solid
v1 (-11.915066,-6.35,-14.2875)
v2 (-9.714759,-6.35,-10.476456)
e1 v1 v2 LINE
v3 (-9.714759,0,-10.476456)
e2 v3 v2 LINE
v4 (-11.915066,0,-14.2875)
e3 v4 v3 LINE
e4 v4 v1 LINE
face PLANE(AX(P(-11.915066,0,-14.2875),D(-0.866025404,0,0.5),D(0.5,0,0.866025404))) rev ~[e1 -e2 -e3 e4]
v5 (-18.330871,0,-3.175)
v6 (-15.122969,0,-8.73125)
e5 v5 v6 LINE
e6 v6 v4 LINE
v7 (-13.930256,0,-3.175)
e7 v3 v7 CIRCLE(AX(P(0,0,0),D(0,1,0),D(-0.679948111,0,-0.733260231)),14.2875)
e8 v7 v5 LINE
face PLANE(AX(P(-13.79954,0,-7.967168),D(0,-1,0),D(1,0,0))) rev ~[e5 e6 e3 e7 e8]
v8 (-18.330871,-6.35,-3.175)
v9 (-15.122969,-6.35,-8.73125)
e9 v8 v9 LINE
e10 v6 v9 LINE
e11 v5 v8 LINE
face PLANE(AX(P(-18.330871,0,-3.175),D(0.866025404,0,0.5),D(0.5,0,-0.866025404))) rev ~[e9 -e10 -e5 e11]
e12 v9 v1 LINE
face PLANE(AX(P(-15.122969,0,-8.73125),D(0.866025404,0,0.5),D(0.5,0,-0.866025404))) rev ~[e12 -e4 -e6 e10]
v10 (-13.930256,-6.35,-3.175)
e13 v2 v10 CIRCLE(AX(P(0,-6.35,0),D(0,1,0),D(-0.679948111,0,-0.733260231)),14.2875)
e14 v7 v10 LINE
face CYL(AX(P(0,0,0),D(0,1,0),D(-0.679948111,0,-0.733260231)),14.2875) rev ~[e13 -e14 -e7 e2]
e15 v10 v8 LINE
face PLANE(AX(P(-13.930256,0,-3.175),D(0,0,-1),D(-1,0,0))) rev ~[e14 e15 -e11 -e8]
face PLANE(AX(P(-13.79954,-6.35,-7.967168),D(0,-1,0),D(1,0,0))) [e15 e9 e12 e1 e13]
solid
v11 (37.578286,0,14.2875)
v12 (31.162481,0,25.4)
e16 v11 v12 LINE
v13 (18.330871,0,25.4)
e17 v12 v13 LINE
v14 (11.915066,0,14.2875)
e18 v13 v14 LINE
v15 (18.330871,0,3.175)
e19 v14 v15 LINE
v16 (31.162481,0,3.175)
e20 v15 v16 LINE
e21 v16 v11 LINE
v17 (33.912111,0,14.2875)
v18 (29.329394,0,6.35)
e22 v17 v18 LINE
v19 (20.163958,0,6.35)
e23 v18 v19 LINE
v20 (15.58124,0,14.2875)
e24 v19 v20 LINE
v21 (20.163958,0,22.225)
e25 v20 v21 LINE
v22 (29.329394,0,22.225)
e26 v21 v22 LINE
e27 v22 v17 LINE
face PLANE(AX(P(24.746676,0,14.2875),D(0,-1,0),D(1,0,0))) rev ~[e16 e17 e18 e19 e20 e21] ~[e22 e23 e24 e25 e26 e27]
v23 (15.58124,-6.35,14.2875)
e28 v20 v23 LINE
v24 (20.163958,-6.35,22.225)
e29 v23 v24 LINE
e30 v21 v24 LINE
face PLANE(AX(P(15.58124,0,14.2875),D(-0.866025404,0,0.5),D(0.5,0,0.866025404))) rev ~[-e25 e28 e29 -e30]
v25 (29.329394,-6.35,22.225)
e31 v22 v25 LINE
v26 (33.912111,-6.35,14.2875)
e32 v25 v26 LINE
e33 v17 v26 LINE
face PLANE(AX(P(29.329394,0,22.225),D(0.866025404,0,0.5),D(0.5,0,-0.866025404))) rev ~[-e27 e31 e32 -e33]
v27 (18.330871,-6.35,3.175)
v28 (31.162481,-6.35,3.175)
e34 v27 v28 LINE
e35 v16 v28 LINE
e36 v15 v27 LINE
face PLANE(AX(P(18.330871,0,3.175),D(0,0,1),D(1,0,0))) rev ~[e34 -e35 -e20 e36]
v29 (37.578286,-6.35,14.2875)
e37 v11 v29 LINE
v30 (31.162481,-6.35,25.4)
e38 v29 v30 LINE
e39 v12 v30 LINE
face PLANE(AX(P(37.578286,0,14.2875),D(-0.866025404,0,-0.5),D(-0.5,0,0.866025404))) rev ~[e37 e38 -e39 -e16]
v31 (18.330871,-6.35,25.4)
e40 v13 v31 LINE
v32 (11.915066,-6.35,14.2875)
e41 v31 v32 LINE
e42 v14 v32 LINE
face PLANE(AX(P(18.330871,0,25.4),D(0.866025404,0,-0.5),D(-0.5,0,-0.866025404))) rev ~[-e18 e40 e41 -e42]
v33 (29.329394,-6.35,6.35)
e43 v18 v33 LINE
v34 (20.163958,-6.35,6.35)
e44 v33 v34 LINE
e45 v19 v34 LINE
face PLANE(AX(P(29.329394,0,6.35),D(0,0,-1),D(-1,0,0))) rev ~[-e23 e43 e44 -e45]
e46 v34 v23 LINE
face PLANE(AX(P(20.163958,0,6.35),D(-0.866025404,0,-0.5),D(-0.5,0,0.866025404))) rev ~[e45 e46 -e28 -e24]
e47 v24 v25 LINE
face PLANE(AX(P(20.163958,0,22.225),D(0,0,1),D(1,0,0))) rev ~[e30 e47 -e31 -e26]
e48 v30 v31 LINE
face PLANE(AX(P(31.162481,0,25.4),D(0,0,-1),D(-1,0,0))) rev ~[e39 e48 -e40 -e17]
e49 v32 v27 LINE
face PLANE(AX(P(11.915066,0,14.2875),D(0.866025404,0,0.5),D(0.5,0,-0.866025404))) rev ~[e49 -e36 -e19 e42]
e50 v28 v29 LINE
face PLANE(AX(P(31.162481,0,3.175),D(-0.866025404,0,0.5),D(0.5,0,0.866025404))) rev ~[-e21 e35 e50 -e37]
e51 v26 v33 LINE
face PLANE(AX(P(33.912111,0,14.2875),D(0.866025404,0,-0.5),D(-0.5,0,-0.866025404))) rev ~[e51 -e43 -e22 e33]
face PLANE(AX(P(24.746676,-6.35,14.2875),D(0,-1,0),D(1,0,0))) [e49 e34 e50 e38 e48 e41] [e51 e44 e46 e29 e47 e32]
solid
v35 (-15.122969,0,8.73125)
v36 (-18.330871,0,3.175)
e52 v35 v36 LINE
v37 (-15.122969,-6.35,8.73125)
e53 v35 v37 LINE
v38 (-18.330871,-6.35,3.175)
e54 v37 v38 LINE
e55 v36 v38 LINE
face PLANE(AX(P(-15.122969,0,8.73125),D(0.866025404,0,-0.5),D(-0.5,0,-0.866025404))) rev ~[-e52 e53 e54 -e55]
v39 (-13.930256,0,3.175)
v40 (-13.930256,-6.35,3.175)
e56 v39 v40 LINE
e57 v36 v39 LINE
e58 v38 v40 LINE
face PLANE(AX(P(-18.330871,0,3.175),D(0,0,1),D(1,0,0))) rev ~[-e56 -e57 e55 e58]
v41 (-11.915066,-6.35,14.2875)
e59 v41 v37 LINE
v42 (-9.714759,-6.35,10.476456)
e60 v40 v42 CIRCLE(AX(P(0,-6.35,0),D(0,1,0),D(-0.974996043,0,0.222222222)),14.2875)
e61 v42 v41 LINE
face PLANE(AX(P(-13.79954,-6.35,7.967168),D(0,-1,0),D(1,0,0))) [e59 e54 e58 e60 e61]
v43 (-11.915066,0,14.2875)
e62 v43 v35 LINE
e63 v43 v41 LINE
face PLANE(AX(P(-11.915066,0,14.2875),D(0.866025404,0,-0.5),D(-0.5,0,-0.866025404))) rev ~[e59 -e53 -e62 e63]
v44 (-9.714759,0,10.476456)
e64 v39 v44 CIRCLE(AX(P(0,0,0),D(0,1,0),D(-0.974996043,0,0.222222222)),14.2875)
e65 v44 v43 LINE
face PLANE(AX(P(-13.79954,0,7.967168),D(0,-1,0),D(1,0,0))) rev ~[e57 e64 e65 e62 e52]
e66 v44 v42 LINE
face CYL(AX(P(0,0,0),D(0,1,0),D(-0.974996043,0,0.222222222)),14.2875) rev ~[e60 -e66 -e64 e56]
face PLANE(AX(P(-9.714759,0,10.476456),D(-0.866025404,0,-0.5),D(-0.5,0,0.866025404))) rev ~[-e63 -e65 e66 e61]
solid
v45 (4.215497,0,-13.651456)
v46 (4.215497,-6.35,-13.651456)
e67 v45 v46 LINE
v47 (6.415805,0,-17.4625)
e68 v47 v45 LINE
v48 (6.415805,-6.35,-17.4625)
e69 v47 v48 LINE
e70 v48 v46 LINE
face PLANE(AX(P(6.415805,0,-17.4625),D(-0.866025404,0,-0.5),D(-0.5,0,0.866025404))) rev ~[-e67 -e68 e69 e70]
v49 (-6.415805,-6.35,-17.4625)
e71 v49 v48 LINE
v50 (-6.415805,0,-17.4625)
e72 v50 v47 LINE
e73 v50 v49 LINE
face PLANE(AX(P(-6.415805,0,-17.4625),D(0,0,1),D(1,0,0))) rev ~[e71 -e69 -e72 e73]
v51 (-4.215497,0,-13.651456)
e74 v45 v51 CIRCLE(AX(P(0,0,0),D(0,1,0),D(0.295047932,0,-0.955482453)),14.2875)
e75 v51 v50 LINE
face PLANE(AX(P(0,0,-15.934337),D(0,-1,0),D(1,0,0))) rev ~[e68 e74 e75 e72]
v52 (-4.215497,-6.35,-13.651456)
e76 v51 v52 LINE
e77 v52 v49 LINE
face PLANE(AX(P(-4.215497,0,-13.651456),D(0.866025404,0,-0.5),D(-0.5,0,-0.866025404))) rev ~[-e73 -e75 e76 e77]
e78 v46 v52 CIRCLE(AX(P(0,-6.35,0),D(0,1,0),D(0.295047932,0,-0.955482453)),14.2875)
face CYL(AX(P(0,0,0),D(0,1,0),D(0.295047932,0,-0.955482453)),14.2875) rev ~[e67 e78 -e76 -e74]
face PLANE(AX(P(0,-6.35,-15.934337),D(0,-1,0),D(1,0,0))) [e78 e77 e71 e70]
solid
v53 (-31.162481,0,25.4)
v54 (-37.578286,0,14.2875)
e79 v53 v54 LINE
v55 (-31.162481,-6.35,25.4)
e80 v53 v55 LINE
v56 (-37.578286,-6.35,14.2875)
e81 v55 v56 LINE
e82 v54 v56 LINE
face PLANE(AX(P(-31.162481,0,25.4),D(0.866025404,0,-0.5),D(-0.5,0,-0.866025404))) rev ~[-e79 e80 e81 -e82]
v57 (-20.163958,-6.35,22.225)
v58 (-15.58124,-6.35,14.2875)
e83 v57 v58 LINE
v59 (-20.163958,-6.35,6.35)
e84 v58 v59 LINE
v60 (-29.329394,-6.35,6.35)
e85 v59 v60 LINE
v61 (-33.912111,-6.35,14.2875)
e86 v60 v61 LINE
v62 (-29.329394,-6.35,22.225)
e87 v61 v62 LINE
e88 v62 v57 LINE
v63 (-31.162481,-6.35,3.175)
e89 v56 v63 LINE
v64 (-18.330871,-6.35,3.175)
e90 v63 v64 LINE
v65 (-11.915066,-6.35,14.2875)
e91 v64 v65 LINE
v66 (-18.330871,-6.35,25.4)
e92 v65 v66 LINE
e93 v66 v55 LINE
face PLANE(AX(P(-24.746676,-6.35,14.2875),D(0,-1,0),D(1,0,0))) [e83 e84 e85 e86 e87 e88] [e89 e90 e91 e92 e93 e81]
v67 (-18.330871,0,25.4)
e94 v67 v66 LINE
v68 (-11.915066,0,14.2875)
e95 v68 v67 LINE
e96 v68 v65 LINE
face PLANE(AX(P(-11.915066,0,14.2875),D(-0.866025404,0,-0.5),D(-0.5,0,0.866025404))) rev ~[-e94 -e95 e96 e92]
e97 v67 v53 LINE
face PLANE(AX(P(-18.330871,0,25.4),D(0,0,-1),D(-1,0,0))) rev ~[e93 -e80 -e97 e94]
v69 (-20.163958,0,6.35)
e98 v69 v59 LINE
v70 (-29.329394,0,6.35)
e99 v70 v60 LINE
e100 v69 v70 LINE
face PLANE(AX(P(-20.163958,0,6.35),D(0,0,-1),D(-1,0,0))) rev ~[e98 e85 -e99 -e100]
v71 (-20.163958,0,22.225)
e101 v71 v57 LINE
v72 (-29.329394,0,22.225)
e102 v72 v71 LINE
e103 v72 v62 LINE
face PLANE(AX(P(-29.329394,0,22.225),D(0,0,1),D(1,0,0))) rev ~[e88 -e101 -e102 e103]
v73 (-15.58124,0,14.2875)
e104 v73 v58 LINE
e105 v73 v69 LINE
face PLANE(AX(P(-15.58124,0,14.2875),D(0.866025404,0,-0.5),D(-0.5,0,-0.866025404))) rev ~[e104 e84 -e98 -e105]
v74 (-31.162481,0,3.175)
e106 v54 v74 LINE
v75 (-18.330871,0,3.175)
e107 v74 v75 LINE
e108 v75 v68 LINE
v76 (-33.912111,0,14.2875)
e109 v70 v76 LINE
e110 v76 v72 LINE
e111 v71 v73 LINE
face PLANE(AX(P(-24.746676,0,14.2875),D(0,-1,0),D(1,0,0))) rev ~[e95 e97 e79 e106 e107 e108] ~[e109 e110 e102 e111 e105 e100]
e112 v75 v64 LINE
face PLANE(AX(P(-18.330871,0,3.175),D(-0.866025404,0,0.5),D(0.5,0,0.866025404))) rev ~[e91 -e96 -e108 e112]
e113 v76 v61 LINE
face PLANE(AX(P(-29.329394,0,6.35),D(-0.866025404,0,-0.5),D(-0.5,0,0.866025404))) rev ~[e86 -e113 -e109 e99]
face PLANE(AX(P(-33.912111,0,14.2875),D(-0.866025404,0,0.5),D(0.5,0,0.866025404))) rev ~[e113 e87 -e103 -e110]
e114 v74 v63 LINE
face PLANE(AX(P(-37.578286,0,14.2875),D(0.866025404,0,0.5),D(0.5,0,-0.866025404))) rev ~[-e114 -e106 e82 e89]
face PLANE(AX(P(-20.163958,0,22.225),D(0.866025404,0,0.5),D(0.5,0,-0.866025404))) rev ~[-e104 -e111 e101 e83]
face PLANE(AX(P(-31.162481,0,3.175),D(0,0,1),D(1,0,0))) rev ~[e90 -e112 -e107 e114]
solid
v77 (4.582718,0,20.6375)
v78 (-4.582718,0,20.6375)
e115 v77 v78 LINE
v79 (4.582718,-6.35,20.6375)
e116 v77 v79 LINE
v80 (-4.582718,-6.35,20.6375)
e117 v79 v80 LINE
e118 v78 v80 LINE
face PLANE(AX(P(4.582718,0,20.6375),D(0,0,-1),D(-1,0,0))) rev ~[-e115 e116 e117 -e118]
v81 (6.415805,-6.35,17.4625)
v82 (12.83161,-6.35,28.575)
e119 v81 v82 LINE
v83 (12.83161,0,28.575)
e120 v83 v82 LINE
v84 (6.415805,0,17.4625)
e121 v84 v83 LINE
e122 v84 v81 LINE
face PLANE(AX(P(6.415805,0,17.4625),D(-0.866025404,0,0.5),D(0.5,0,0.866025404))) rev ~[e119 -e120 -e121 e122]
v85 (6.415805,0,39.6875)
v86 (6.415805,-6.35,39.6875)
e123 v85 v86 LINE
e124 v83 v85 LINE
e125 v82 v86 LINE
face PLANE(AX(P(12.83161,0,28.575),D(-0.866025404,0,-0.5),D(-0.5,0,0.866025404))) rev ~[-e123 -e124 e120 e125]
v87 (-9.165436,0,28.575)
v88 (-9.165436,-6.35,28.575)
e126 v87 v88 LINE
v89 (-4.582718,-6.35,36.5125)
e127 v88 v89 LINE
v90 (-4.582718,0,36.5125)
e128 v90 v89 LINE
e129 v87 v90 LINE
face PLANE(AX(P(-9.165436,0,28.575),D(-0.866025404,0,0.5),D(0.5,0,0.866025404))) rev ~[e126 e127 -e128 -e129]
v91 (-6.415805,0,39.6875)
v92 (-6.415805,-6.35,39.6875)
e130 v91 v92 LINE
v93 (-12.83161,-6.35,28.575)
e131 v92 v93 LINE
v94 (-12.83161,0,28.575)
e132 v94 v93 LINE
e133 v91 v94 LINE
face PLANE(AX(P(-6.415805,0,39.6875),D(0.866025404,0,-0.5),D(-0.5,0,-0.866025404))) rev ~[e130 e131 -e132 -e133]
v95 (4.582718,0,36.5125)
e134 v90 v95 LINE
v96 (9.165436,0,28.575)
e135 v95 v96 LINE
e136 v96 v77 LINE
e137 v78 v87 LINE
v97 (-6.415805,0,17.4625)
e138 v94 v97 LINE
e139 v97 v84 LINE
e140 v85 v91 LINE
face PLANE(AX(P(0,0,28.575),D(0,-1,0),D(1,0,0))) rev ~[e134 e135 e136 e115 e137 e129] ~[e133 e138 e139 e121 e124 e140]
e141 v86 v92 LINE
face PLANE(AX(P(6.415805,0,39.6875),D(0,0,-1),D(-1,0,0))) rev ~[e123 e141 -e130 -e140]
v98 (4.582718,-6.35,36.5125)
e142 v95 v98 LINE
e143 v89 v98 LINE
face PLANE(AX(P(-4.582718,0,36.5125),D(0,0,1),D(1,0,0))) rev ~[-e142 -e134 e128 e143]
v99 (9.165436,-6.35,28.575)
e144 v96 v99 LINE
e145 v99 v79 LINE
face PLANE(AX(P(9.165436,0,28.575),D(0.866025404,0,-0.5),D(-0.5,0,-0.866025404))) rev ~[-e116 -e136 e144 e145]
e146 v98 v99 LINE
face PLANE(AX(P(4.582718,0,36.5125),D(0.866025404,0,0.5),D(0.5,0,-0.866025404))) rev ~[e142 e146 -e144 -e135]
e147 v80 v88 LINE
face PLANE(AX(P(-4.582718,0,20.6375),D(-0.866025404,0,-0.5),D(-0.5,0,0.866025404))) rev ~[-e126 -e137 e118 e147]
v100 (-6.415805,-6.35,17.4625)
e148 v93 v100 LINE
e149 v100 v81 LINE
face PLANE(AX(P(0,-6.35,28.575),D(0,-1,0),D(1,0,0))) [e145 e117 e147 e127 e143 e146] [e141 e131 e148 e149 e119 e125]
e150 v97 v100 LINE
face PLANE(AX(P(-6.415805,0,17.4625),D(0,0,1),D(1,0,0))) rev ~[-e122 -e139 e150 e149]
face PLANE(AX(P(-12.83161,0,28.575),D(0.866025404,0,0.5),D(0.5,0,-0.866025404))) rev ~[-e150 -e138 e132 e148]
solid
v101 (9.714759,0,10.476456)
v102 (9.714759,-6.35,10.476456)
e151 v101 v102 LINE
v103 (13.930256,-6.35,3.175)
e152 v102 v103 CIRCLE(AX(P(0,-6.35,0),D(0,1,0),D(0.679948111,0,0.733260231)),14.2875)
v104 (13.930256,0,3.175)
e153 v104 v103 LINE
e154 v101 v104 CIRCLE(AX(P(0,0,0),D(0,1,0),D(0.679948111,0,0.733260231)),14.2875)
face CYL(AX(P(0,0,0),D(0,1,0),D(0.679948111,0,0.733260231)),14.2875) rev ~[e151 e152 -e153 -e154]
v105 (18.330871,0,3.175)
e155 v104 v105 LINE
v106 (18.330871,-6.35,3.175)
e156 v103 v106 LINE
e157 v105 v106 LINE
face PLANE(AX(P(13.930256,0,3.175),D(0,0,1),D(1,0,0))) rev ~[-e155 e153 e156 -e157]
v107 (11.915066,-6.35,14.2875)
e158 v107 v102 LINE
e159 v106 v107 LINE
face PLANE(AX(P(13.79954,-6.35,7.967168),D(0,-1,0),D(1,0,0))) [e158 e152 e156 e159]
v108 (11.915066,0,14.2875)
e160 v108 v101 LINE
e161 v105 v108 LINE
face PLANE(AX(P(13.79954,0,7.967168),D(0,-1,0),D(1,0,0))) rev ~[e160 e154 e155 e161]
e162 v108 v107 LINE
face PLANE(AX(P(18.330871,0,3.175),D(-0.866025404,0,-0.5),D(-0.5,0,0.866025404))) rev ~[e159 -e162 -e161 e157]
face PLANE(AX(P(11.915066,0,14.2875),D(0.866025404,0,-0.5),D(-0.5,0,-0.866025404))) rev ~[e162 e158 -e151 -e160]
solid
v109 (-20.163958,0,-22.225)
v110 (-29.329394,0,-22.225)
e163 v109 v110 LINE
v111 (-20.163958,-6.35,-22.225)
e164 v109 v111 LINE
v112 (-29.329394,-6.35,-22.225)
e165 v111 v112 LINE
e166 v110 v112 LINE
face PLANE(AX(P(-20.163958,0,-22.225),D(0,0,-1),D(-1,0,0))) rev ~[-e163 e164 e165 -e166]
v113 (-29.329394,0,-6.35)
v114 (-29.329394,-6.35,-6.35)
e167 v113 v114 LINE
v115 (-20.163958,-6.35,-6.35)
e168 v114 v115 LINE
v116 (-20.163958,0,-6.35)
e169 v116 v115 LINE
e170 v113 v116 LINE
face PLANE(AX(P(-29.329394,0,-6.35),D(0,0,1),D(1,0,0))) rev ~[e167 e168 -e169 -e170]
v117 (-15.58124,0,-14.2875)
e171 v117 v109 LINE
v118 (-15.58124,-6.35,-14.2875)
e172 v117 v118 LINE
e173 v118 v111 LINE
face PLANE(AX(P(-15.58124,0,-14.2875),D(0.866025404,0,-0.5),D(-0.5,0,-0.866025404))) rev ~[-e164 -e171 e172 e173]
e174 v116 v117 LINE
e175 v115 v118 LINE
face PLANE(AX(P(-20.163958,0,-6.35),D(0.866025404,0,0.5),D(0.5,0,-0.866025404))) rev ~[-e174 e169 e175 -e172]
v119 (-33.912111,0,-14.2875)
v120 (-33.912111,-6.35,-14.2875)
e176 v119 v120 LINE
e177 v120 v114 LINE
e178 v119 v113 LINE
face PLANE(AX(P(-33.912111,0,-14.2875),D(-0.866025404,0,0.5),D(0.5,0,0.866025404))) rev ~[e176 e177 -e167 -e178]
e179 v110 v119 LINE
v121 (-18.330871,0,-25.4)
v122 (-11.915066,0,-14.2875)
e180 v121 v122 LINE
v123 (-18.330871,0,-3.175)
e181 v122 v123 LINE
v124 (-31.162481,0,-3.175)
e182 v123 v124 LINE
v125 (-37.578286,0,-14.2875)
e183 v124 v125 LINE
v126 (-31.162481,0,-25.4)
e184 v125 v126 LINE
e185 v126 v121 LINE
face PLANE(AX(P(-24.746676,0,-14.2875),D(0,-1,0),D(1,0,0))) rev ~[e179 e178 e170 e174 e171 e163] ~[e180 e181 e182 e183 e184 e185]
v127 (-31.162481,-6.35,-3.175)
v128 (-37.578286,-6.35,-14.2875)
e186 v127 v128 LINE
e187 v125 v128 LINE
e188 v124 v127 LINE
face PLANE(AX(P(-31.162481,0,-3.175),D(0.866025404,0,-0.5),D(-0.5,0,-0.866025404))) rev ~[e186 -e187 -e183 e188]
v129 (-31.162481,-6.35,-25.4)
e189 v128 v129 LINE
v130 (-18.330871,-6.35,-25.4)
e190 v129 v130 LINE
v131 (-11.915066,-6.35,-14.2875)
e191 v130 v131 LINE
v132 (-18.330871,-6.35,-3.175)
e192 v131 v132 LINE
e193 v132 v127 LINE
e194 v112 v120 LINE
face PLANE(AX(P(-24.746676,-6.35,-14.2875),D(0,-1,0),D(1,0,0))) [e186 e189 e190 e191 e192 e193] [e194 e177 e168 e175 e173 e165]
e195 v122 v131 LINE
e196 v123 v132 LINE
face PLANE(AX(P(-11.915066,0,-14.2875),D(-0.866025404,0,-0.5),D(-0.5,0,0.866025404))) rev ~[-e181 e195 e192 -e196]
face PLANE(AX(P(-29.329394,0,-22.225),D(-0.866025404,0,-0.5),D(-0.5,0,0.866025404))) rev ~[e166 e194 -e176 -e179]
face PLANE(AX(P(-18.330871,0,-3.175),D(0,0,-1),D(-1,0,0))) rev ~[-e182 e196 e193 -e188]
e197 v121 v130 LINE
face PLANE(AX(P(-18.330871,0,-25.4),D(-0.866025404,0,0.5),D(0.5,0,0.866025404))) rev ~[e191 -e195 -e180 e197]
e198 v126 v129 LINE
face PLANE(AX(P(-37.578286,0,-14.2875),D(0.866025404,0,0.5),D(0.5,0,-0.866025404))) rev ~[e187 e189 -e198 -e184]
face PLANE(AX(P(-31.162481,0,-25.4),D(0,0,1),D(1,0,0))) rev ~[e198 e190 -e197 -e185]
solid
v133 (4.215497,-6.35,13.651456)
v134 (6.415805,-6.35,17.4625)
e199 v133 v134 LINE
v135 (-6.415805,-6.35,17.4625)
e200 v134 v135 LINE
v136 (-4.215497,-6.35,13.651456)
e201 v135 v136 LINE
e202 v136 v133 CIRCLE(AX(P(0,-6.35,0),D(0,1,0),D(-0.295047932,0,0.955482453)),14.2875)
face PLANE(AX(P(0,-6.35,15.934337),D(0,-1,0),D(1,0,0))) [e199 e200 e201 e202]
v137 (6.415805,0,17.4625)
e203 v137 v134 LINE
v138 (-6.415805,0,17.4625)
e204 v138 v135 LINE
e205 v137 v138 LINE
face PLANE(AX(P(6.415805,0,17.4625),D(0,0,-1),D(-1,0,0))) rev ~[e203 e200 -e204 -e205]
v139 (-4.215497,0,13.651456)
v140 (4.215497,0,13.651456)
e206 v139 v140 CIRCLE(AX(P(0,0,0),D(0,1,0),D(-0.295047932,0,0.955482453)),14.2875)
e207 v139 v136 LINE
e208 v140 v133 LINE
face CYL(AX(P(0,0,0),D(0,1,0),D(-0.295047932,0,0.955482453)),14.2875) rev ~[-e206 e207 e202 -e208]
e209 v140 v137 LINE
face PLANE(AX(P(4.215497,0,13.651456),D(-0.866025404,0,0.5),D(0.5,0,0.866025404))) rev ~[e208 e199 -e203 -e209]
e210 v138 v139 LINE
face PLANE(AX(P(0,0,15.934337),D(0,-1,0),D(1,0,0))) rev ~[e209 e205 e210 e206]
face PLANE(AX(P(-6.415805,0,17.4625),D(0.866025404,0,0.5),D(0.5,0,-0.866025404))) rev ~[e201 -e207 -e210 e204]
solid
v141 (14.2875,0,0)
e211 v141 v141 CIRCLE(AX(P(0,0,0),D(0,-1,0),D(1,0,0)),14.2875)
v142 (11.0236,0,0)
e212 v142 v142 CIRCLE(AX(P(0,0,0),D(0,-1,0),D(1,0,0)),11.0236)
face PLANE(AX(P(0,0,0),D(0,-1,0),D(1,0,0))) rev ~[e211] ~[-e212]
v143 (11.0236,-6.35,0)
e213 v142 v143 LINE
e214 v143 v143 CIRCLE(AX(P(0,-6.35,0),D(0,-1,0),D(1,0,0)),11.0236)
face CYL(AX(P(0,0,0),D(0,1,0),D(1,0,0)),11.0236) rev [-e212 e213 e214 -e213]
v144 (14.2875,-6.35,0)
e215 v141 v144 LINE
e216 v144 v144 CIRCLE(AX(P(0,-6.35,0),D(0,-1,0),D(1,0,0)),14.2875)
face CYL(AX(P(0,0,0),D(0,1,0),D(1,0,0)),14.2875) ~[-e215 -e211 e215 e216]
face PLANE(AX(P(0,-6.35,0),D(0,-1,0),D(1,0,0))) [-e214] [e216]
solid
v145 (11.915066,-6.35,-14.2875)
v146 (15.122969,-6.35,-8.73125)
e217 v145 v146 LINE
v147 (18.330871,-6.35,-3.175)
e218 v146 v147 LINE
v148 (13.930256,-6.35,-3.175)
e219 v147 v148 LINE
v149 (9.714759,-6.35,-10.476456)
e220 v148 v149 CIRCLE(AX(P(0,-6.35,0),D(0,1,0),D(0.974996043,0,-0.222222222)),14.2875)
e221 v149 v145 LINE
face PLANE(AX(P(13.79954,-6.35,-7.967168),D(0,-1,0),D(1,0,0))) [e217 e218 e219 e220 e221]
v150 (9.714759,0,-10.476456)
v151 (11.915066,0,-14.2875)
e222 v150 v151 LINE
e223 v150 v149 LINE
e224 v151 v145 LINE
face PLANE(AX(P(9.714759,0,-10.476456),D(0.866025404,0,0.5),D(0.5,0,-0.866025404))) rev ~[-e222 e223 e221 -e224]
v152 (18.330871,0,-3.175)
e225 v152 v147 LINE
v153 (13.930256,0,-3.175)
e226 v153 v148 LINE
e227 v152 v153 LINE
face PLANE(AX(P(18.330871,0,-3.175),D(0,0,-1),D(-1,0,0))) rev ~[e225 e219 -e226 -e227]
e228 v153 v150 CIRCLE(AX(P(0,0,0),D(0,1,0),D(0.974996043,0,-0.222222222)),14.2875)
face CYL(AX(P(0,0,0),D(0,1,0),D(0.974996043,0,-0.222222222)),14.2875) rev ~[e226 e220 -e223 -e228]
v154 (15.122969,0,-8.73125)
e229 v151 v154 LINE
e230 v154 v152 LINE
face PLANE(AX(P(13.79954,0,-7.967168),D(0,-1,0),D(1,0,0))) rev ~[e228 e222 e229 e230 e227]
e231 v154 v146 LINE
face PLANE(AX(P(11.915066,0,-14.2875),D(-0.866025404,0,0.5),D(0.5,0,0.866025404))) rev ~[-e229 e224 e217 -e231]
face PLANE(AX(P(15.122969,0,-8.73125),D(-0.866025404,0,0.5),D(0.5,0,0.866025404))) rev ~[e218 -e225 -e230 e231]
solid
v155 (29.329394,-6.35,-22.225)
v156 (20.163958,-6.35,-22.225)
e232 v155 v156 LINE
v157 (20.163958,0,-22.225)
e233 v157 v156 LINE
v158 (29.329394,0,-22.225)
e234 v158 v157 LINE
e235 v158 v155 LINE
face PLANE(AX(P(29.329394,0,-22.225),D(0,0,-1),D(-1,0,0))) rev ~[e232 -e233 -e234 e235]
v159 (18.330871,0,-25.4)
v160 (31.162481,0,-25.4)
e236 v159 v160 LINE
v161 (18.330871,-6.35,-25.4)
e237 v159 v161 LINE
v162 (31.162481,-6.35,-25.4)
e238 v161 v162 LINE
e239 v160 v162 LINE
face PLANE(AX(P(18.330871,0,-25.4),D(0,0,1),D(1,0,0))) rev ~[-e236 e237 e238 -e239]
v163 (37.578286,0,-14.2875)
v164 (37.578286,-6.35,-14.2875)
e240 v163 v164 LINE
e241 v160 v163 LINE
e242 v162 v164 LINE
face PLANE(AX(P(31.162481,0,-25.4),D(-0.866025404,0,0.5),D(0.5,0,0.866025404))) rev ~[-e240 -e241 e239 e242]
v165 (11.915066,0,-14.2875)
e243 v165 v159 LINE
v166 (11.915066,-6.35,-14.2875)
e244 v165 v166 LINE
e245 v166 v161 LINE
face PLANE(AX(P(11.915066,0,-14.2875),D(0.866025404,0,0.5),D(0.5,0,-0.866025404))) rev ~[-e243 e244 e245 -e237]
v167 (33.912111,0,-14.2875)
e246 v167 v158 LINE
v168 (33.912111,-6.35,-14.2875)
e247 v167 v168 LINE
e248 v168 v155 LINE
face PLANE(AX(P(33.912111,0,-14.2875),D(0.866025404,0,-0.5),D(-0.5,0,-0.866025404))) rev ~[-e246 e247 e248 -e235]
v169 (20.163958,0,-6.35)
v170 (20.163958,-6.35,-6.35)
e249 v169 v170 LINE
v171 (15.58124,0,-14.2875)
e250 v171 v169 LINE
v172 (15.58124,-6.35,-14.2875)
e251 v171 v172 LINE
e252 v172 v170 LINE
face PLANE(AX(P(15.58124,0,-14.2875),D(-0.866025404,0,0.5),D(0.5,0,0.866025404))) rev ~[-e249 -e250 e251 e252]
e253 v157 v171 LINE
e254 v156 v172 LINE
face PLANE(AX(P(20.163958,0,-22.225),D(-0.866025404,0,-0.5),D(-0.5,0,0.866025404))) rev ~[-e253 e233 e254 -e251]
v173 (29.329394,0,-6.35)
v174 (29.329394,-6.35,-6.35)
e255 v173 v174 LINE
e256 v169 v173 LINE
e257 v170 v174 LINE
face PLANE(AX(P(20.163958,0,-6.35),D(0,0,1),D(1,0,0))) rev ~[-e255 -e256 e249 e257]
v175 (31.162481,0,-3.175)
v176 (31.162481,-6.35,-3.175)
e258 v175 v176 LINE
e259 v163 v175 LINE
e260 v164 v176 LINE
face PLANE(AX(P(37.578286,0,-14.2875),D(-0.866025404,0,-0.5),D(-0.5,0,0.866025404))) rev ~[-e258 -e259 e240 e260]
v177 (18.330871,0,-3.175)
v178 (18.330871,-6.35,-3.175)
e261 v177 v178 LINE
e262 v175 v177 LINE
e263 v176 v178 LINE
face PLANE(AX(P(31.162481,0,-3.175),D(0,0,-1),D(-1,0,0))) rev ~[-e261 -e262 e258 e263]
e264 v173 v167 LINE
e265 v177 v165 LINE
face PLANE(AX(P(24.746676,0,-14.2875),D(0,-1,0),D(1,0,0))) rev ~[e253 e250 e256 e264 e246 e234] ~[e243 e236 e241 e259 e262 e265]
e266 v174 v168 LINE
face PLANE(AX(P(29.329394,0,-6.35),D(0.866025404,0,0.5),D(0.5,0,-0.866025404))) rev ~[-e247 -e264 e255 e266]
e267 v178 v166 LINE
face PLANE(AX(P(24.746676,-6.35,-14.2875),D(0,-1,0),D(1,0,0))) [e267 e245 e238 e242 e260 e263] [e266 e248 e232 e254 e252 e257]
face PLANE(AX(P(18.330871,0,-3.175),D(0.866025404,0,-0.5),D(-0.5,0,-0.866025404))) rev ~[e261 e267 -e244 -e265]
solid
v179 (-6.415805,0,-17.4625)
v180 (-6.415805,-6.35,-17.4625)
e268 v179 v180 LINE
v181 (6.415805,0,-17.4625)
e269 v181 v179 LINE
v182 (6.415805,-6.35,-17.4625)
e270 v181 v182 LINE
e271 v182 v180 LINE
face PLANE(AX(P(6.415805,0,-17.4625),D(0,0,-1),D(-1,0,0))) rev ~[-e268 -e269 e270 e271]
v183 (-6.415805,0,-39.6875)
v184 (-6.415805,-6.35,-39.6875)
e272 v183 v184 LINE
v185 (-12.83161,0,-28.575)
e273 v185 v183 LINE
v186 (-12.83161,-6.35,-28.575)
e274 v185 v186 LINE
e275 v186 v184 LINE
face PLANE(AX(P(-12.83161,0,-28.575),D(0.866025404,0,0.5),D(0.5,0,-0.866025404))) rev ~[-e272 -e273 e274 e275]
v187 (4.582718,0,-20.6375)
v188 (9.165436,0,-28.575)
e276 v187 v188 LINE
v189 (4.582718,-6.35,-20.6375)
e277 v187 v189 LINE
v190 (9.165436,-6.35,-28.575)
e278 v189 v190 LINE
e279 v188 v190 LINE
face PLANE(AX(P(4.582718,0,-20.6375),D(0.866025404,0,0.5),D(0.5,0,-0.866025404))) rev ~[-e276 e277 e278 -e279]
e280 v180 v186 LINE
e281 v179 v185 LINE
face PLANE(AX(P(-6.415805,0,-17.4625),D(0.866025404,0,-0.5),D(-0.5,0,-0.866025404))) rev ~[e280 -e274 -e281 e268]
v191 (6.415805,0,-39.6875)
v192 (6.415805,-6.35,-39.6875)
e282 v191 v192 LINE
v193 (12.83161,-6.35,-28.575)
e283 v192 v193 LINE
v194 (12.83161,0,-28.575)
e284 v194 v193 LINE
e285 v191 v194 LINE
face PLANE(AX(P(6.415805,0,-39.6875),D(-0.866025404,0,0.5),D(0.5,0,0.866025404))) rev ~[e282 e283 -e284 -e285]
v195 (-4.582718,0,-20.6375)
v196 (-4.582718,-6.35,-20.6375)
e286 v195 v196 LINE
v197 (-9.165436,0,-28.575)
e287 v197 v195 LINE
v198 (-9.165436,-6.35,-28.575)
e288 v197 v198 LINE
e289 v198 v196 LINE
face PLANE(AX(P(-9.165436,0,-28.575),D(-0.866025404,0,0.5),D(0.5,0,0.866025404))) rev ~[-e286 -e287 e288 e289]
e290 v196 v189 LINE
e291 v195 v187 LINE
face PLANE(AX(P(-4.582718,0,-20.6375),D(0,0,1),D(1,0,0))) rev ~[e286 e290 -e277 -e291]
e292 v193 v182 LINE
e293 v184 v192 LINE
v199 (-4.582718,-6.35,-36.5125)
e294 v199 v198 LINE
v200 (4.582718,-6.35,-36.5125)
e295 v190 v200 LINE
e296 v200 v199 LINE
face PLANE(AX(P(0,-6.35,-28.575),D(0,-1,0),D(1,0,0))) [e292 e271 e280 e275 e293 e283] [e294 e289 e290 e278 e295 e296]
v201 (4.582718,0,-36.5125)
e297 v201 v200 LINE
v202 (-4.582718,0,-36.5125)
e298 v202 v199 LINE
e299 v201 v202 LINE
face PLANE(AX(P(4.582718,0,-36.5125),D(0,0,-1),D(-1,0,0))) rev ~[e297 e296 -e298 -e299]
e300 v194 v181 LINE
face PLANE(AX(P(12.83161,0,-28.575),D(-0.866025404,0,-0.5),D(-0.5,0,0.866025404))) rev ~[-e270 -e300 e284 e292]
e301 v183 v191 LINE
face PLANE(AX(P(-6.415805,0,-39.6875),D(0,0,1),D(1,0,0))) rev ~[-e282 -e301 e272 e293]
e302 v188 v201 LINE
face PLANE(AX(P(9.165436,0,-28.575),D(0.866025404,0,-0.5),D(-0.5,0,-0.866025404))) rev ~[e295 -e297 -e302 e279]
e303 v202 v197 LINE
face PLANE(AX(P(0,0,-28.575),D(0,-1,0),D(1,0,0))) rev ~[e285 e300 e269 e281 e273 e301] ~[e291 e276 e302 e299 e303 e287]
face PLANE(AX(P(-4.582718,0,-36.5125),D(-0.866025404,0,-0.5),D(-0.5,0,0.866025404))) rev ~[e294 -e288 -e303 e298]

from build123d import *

# Parameters (mm, degrees)
F0_R     = 14.2875
F0_R_2   = 11.0236
F2_DEPTH = 6.35


with BuildPart() as f2:
    # F0 (on Front) → F2 (new body)
    with BuildSketch(Plane.XZ):
        Circle(F0_R)
        Circle(F0_R_2, mode=Mode.SUBTRACT)
    extrude(amount=F2_DEPTH)


with BuildPart() as f2b:
    # F0 (on Front) → F2, piece 2 (new body)
    with BuildSketch(Plane.XZ):
        Polygon((-6.4158048664, 17.4625), (6.4158048664, 17.4625), (12.8316097327, 28.575), (6.4158048664, 39.6875), (-6.4158048664, 39.6875), (-12.8316097327, 28.575), align=None)
        Polygon((9.1654355234, 28.575), (4.5827177617, 20.6375), (-4.5827177617, 20.6375), (-9.1654355234, 28.575), (-4.5827177617, 36.5125), (4.5827177617, 36.5125), align=None, mode=Mode.SUBTRACT)
    extrude(amount=F2_DEPTH)


with BuildPart() as f2c:
    # F0 (on Front) → F2, piece 3 (new body)
    with BuildSketch(Plane.XZ):
        Polygon((-11.9150661804, 14.2875), (-18.3308710468, 25.4), (-31.1624807795, 25.4), (-37.5782856459, 14.2875), (-31.1624807795, 3.175), (-18.3308710468, 3.175), align=None)
        Polygon((-20.1639581514, 22.225), (-15.5812403898, 14.2875), (-20.1639581514, 6.35), (-29.3293936748, 6.35), (-33.9121114365, 14.2875), (-29.3293936748, 22.225), align=None, mode=Mode.SUBTRACT)
    extrude(amount=F2_DEPTH)


with BuildPart() as f2d:
    # F0 (on Front) → F2, piece 4 (new body)
    with BuildSketch(Plane.XZ):
        Polygon((-18.3308710468, -3.175), (-31.1624807795, -3.175), (-37.5782856459, -14.2875), (-31.1624807795, -25.4), (-18.3308710468, -25.4), (-11.9150661804, -14.2875), align=None)
        Polygon((-29.3293936748, -6.35), (-20.1639581514, -6.35), (-15.5812403898, -14.2875), (-20.1639581514, -22.225), (-29.3293936748, -22.225), (-33.9121114365, -14.2875), align=None, mode=Mode.SUBTRACT)
    extrude(amount=F2_DEPTH)


with BuildPart() as f2e:
    # F0 (on Front) → F2, piece 5 (new body)
    with BuildSketch(Plane.XZ):
        Polygon((-6.4158048664, -17.4625), (-12.8316097327, -28.575), (-6.4158048664, -39.6875), (6.4158048664, -39.6875), (12.8316097327, -28.575), (6.4158048664, -17.4625), align=None)
        Polygon((-9.1654355234, -28.575), (-4.5827177617, -20.6375), (4.5827177617, -20.6375), (9.1654355234, -28.575), (4.5827177617, -36.5125), (-4.5827177617, -36.5125), align=None, mode=Mode.SUBTRACT)
    extrude(amount=F2_DEPTH)


with BuildPart() as f2f:
    # F0 (on Front) → F2, piece 6 (new body)
    with BuildSketch(Plane.XZ):
        Polygon((11.9150661804, -14.2875), (18.3308710468, -25.4), (31.1624807795, -25.4), (37.5782856459, -14.2875), (31.1624807795, -3.175), (18.3308710468, -3.175), align=None)
        Polygon((20.1639581514, -22.225), (15.5812403898, -14.2875), (20.1639581514, -6.35), (29.3293936748, -6.35), (33.9121114365, -14.2875), (29.3293936748, -22.225), align=None, mode=Mode.SUBTRACT)
    extrude(amount=F2_DEPTH)


with BuildPart() as f2g:
    # F0 (on Front) → F2, piece 7 (new body)
    with BuildSketch(Plane.XZ):
        Polygon((18.3308710468, 3.175), (31.1624807795, 3.175), (37.5782856459, 14.2875), (31.1624807795, 25.4), (18.3308710468, 25.4), (11.9150661804, 14.2875), align=None)
        Polygon((29.3293936748, 6.35), (20.1639581514, 6.35), (15.5812403898, 14.2875), (20.1639581514, 22.225), (29.3293936748, 22.225), (33.9121114365, 14.2875), align=None, mode=Mode.SUBTRACT)
    extrude(amount=F2_DEPTH)


with BuildPart() as f2h:
    # F1 (on Front) → F2, piece 8 (new body)
    with BuildSketch(Plane.XZ):
        with BuildLine():
            Line((-18.3308710468, 3.175), (-13.930255965, 3.175))
            ThreePointArc((-13.930255965, 3.175), (-12.3733379566, 7.14375), (-9.7147586395, 10.4764555469))
            Line((-9.7147586395, 10.4764555469), (-11.9150661804, 14.2875))
            Line((-11.9150661804, 14.2875), (-15.1229686921, 8.731249864))
            Line((-15.1229686921, 8.731249864), (-18.3308710468, 3.175))
        make_face()
    extrude(amount=F2_DEPTH)


with BuildPart() as f2i:
    # F1 (on Front) → F2, piece 9 (new body)
    with BuildSketch(Plane.XZ):
        with BuildLine():
            Line((-15.1229686619, -8.7312499162), (-11.9150661804, -14.2875))
            Line((-11.9150661804, -14.2875), (-9.7147586395, -10.4764555469))
            ThreePointArc((-9.7147586395, -10.4764555469), (-12.3733379566, -7.14375), (-13.930255965, -3.175))
            Line((-13.930255965, -3.175), (-18.3308710468, -3.175))
            Line((-18.3308710468, -3.175), (-15.1229686619, -8.7312499162))
        make_face()
    extrude(amount=F2_DEPTH)


with BuildPart() as f2j:
    # F1 (on Front) → F2, piece 10 (new body)
    with BuildSketch(Plane.XZ):
        with BuildLine():
            ThreePointArc((4.2154973255, -13.6514555469), (0, -14.2875), (-4.2154973255, -13.6514555469))
            Line((-4.2154973255, -13.6514555469), (-6.4158048664, -17.4625))
            Line((-6.4158048664, -17.4625), (0, -17.4625))
            Line((0, -17.4625), (6.4158048664, -17.4625))
            Line((6.4158048664, -17.4625), (4.2154973255, -13.6514555469))
        make_face()
    extrude(amount=F2_DEPTH)


with BuildPart() as f2k:
    # F1 (on Front) → F2, piece 11 (new body)
    with BuildSketch(Plane.XZ):
        with BuildLine():
            ThreePointArc((13.930255965, -3.175), (12.3733379566, -7.14375), (9.7147586395, -10.4764555469))
            Line((9.7147586395, -10.4764555469), (11.9150661804, -14.2875))
            Line((11.9150661804, -14.2875), (15.1229686921, -8.731249864))
            Line((15.1229686921, -8.731249864), (18.3308710468, -3.175))
            Line((18.3308710468, -3.175), (13.930255965, -3.175))
        make_face()
    extrude(amount=F2_DEPTH)


with BuildPart() as f2l:
    # F1 (on Front) → F2, piece 12 (new body)
    with BuildSketch(Plane.XZ):
        with BuildLine():
            Line((11.9150661804, 14.2875), (9.7147586395, 10.4764555469))
            ThreePointArc((9.7147586395, 10.4764555469), (12.3733379566, 7.14375), (13.930255965, 3.175))
            Line((13.930255965, 3.175), (18.3308710468, 3.175))
            Line((18.3308710468, 3.175), (15.1229686901, 8.7312498675))
            Line((15.1229686901, 8.7312498675), (11.9150661804, 14.2875))
        make_face()
    extrude(amount=F2_DEPTH)


with BuildPart() as f2m:
    # F1 (on Front) → F2, piece 13 (new body)
    with BuildSketch(Plane.XZ):
        with BuildLine():
            Line((-6.4158048664, 17.4625), (-4.2154973255, 13.6514555469))
            ThreePointArc((-4.2154973255, 13.6514555469), (0, 14.2875), (4.2154973255, 13.6514555469))
            Line((4.2154973255, 13.6514555469), (6.4158048664, 17.4625))
            Line((6.4158048664, 17.4625), (0, 17.4625))
            Line((0, 17.4625), (-6.4158048664, 17.4625))
        make_face()
    extrude(amount=F2_DEPTH)


solid = Compound([f2.part, f2b.part, f2c.part, f2d.part, f2e.part, f2f.part, f2g.part, f2h.part, f2i.part, f2j.part, f2k.part, f2l.part, f2m.part])
